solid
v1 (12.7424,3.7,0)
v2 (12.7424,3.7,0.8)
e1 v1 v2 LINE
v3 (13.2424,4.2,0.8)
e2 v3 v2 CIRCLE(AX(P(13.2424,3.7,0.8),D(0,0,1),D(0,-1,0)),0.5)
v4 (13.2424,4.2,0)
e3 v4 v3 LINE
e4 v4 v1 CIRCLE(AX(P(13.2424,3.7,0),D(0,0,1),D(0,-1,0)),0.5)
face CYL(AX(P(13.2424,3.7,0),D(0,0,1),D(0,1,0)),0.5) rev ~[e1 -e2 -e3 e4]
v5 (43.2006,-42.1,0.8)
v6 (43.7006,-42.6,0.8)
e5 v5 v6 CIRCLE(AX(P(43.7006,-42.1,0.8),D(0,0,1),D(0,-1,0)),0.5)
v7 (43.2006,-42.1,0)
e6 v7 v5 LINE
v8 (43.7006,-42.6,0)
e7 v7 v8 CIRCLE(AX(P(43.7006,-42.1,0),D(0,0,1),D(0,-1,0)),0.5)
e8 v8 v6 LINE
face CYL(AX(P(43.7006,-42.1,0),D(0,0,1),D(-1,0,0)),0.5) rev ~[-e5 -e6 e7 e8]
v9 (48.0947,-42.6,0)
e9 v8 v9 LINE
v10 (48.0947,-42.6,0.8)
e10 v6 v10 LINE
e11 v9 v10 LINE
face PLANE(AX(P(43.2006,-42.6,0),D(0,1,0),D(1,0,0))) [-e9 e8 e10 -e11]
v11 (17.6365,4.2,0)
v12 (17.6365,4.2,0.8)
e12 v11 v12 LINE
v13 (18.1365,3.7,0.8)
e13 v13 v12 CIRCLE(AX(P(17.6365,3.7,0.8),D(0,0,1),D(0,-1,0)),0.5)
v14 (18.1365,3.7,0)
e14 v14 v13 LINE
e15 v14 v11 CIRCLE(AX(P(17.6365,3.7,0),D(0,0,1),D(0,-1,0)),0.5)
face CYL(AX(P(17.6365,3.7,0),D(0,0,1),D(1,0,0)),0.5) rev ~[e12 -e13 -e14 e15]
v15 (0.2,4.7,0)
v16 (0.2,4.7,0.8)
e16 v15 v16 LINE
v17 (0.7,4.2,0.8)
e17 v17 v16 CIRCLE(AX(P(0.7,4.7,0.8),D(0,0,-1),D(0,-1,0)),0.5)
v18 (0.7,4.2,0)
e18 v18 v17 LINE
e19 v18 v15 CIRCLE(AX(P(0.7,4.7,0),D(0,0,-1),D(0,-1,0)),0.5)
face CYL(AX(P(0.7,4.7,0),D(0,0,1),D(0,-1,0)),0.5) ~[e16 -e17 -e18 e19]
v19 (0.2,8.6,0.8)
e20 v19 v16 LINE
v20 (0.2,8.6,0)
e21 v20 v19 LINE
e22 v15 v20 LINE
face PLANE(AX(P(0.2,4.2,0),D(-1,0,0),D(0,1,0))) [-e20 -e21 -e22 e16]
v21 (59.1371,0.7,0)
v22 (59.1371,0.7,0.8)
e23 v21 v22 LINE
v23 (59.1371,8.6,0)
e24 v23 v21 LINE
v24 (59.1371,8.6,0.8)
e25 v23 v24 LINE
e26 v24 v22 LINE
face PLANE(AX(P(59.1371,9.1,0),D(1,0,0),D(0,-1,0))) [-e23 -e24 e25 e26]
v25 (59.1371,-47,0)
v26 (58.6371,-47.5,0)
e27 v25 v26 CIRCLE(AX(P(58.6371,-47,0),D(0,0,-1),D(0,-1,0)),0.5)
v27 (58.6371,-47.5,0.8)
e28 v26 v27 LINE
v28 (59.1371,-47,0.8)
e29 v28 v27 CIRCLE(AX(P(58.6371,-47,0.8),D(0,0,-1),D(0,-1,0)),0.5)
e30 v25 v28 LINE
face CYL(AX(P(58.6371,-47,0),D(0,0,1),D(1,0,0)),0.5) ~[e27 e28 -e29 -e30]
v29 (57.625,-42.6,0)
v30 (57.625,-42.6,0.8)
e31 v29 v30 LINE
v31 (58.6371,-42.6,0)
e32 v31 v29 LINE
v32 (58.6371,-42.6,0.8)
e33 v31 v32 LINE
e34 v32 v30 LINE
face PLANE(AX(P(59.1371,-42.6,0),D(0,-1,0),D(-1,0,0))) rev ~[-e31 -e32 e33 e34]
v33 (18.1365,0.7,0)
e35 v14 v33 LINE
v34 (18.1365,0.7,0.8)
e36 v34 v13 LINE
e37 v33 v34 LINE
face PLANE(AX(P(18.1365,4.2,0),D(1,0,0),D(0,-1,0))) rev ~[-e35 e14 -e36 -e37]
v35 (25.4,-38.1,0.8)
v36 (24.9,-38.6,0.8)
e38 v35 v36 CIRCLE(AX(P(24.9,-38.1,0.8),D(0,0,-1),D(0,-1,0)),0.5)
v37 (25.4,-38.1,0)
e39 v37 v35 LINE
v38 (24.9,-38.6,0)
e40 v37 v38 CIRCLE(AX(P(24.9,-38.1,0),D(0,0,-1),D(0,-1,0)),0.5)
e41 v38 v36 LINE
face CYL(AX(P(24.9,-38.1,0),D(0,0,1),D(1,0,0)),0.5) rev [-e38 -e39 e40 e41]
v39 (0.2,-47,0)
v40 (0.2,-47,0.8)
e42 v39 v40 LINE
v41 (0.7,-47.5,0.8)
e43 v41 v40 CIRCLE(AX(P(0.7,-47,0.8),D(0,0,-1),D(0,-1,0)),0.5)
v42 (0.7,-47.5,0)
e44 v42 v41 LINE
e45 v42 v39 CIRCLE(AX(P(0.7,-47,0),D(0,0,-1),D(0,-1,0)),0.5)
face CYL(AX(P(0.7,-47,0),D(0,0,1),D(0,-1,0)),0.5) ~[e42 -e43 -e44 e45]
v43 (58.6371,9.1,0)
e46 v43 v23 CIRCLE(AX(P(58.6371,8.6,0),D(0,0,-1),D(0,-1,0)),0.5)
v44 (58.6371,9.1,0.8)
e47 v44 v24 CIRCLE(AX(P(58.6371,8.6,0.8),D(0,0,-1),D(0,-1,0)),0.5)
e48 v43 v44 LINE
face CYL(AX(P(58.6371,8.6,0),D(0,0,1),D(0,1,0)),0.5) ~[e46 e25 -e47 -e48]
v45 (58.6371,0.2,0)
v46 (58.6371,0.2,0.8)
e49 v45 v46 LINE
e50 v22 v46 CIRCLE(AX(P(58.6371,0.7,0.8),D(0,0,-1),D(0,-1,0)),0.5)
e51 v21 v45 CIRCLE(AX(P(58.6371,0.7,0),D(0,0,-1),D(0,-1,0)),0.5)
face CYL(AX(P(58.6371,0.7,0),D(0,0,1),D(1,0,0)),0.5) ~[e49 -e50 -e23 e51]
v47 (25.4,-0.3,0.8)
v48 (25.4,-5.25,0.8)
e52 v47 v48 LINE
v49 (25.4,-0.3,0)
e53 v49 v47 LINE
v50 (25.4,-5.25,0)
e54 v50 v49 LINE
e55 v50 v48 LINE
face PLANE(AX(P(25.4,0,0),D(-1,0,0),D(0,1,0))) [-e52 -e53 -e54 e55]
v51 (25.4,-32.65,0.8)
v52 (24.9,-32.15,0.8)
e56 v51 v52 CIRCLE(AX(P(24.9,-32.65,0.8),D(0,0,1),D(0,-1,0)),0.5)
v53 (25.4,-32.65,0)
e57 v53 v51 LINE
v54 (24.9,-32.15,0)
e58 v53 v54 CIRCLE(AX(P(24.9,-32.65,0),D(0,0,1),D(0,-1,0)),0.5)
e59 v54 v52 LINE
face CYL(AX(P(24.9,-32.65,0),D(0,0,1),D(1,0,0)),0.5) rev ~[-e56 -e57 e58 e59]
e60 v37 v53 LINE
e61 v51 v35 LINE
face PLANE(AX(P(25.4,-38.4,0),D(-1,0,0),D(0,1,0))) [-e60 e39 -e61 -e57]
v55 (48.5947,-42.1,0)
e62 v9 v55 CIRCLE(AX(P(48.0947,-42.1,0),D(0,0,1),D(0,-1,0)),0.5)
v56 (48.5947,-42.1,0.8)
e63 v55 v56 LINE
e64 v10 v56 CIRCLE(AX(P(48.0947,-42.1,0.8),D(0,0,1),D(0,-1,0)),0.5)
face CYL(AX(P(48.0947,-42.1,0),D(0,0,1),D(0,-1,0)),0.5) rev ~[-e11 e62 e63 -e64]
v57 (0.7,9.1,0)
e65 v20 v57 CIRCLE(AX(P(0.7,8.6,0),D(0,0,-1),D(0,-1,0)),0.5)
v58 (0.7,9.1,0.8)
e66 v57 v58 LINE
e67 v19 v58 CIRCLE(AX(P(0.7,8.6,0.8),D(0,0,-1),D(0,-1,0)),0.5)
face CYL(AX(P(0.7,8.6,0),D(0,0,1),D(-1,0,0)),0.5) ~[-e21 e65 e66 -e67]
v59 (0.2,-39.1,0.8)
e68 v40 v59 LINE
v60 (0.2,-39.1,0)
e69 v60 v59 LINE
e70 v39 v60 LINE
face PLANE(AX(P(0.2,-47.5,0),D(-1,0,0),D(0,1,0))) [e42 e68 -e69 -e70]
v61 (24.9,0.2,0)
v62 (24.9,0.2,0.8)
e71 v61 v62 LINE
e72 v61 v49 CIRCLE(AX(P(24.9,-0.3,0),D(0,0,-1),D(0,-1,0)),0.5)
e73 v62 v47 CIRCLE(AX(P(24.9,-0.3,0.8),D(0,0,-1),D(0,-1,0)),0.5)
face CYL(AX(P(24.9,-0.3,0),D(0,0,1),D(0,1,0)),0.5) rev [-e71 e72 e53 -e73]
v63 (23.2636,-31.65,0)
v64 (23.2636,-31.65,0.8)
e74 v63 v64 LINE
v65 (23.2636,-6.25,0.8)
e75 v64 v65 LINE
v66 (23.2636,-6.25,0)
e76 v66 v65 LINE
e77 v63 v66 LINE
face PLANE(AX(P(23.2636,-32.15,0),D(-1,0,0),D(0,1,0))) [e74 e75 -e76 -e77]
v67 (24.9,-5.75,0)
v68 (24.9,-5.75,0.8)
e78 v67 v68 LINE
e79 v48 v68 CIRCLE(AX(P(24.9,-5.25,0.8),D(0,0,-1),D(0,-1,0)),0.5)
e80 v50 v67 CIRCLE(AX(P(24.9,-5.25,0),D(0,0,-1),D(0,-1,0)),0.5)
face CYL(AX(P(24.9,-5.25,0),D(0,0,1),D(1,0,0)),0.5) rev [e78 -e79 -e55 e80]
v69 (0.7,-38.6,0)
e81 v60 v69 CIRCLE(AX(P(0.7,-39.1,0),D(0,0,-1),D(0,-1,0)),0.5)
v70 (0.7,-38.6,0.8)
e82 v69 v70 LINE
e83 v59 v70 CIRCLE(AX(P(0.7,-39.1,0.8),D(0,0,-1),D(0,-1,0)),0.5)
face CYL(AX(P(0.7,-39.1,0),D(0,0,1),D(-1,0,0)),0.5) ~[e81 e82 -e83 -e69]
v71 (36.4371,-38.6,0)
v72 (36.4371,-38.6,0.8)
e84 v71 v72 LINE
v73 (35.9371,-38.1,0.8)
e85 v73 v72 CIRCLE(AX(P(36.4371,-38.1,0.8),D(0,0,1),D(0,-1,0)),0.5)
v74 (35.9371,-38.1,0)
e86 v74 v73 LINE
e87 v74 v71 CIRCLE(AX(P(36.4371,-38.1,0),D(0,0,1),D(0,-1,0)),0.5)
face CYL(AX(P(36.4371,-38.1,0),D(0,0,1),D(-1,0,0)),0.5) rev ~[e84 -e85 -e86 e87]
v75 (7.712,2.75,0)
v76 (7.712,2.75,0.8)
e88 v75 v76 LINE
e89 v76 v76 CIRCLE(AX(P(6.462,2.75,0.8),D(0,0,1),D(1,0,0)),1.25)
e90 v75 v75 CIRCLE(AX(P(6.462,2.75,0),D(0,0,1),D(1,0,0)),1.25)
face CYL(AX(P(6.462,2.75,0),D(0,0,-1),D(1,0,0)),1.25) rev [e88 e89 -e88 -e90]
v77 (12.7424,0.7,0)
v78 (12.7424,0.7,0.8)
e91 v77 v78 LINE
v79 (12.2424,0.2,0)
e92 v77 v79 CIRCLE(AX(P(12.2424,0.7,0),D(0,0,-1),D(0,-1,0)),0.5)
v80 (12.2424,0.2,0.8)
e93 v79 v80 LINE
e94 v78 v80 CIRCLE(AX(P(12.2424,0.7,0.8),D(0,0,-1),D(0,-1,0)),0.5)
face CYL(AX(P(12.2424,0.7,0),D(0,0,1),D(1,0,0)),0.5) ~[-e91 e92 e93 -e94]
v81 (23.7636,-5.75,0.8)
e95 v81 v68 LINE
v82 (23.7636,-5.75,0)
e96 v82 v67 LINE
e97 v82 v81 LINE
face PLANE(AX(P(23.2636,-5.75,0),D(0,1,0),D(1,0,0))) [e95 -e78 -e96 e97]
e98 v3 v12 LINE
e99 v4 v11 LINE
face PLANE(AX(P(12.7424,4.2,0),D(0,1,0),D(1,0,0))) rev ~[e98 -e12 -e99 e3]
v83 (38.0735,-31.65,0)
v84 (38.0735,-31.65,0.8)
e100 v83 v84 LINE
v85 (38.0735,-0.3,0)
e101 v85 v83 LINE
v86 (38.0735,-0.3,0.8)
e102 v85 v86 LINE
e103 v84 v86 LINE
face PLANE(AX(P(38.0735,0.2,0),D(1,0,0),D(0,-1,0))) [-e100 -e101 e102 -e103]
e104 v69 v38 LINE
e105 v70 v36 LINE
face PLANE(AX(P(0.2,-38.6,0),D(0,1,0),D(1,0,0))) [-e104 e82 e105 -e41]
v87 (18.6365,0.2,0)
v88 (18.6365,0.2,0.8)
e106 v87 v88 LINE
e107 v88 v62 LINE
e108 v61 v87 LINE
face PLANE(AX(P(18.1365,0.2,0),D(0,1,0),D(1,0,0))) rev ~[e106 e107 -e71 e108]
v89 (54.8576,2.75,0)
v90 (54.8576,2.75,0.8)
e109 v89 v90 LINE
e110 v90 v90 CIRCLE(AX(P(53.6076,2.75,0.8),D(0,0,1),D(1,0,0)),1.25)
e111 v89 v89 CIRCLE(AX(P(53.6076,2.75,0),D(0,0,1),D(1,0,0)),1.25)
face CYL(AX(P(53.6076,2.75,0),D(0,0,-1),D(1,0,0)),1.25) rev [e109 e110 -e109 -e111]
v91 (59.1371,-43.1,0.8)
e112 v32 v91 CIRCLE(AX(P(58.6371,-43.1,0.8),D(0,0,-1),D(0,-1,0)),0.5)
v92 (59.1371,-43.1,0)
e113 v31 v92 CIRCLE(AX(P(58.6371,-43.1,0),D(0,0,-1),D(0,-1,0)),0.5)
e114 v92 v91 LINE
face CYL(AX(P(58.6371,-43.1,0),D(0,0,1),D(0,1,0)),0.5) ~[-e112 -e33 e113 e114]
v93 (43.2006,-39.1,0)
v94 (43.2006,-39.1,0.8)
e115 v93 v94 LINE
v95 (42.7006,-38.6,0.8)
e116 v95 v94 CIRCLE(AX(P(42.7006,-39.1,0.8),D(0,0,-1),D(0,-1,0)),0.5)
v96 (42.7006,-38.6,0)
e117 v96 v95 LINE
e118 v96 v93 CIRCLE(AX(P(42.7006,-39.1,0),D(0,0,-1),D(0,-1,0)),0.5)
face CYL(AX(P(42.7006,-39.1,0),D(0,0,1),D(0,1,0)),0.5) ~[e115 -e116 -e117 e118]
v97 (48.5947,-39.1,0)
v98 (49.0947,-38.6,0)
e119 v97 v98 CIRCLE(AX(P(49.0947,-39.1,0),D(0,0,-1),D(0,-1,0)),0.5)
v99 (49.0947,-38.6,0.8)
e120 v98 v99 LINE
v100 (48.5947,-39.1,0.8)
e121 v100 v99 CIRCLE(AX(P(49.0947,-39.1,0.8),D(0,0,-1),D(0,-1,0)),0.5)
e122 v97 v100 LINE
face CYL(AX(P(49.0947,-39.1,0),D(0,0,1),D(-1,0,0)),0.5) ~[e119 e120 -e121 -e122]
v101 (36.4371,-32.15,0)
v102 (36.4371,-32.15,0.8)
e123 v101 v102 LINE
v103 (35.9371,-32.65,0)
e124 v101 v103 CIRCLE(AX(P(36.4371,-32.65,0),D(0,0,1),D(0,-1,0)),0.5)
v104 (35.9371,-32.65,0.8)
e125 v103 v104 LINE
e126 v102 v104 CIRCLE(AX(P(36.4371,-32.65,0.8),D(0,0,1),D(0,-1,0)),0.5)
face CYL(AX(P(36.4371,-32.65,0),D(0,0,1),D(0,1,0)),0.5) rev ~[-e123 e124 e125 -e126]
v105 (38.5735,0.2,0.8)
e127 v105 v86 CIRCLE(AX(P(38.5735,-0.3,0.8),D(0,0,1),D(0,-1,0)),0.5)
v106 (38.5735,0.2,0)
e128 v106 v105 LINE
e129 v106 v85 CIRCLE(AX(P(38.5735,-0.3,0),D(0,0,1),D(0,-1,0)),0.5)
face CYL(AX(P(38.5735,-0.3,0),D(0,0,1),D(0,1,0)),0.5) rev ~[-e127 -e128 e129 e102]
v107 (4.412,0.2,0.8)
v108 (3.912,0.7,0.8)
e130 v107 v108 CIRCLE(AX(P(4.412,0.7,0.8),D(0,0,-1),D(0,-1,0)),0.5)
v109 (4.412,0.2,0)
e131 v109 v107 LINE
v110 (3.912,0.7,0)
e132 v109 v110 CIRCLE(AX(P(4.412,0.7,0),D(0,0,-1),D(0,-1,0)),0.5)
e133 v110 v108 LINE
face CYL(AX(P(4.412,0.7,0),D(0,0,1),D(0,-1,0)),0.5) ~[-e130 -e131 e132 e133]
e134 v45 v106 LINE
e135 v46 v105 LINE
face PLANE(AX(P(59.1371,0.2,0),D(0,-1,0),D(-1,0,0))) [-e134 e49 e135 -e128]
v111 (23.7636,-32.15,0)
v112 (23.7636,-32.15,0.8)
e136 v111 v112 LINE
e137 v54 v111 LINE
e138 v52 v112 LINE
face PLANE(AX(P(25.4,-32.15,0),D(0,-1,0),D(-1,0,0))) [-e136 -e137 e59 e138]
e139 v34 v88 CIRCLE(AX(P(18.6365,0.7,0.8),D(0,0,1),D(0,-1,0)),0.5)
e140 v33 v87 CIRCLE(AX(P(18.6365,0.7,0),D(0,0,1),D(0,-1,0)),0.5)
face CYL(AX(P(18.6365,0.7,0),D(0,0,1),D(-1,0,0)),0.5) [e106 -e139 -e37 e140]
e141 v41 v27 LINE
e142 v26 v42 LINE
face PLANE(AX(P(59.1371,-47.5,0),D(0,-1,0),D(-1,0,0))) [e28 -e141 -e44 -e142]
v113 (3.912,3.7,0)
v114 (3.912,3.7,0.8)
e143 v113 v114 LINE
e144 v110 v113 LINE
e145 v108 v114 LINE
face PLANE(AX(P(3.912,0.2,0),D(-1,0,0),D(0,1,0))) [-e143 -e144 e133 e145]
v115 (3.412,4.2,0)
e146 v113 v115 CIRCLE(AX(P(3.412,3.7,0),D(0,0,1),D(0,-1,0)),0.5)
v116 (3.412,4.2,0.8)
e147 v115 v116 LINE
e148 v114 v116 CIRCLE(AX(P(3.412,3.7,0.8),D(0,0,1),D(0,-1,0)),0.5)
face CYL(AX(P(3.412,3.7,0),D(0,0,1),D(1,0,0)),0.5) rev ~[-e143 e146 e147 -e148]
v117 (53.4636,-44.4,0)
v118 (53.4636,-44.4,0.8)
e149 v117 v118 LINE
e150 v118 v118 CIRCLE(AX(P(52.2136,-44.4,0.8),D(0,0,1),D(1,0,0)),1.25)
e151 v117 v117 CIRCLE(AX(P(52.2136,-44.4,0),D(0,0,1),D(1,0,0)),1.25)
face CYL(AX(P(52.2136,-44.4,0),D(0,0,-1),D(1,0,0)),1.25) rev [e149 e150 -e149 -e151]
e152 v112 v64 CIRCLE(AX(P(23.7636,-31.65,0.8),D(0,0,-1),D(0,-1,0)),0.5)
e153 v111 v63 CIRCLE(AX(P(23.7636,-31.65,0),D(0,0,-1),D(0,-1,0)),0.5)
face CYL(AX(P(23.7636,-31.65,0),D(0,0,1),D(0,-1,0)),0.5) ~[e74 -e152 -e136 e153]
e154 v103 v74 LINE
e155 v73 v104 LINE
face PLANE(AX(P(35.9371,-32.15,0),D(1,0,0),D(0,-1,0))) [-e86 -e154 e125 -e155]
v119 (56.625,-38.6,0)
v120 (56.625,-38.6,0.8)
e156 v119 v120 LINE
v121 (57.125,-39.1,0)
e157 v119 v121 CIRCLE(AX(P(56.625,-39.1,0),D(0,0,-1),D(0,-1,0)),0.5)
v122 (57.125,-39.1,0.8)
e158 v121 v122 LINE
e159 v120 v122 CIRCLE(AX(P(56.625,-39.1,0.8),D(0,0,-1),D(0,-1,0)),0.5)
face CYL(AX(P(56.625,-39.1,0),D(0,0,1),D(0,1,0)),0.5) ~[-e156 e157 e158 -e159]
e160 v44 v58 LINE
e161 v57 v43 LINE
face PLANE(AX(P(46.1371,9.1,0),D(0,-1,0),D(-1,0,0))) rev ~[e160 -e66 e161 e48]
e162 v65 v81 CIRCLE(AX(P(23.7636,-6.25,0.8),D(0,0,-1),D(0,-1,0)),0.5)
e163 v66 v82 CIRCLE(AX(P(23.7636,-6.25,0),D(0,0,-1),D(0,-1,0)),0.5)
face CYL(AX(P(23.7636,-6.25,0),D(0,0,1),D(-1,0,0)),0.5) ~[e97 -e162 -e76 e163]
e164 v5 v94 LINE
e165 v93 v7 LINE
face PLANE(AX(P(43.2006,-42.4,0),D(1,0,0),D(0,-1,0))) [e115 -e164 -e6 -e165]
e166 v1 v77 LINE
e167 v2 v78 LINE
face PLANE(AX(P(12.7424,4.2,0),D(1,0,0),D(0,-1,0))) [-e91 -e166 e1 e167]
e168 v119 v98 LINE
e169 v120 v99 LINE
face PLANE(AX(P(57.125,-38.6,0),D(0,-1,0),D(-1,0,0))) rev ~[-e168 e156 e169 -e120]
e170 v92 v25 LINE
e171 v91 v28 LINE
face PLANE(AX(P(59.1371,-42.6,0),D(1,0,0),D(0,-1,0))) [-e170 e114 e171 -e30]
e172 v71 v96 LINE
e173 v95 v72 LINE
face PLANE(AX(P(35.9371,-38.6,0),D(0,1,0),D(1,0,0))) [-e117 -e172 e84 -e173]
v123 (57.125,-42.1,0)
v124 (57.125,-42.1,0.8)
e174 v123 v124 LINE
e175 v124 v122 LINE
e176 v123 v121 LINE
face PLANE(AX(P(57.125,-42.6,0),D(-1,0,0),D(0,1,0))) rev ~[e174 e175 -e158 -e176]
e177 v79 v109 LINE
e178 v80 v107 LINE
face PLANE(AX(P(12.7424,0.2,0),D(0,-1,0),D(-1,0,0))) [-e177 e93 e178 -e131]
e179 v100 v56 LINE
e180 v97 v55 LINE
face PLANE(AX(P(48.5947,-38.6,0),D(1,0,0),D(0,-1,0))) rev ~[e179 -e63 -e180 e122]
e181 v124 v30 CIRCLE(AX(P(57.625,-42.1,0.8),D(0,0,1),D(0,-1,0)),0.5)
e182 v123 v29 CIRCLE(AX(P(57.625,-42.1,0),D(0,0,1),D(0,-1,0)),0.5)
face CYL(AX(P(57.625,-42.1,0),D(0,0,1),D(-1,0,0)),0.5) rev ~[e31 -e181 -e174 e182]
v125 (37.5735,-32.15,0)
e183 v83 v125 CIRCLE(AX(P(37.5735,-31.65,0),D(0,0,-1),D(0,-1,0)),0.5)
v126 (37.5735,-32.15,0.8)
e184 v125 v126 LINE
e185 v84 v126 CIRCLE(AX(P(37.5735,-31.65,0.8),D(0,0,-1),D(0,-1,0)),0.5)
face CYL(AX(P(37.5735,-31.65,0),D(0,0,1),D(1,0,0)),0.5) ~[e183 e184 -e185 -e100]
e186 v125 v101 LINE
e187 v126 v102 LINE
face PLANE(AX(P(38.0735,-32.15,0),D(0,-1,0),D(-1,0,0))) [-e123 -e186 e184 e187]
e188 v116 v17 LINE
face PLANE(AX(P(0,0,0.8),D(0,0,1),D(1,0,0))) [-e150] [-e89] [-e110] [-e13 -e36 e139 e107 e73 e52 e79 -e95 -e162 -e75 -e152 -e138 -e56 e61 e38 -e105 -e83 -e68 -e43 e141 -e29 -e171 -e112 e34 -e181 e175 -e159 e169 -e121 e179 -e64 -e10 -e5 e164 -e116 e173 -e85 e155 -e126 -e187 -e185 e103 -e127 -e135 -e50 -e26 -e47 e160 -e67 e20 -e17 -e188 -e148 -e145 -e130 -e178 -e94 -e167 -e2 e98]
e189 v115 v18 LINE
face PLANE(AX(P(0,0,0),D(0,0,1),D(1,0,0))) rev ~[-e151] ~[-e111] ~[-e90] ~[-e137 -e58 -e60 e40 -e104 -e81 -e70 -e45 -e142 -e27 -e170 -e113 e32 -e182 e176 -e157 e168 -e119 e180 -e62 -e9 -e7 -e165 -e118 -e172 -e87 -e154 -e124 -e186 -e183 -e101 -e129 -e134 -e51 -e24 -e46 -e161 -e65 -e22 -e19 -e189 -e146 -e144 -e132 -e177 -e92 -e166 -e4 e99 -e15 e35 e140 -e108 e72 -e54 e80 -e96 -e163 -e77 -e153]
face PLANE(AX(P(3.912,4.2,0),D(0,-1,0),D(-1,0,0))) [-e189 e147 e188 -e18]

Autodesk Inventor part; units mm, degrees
ref_plane "YZ Plane" through (0, 0, 0) normal (1, 0, 0) x (0, 1, 0)
ref_plane "XZ Plane" through (0, 0, 0) normal (0, 1, 0) x (-1, 0, 0)
ref_plane "XY Plane" through (0, 0, 0) normal (0, 0, 1) x (1, 0, 0)
sketch "Sketch1" plane through (0, 0, 0) normal (0, 0, 1) x (1, 0, 0)
  line L0 (13.7023, 4) -> (22.3525, 4) projected
  line L1 (22.3525, 0) -> (59.3371, 0) projected
  line L2 (59.3371, 0) -> (59.3371, 9.3) projected
  line L3 (59.3371, 9.3) -> (0, 9.3) projected
  line L4 (0, 4) -> (0, 9.3) projected
  line L5 (2.4551, 0) -> (13.7023, 0) projected
  line L6 (0, -38.4) -> (39.318, -38.4) projected
  line L7 (0, -38.4) -> (0, -47.7) projected
  line L8 (0, -47.7) -> (59.3371, -47.7) projected
  line L9 (59.3371, -42.4) -> (59.3371, -47.7) projected
  line L10 (59.3371, -42.4) -> (58.882, -42.4) projected
  line L11 (58.882, -42.4) -> (58.882, -38.4) projected
  line L12 (47.6348, -38.4) -> (58.882, -38.4) projected
  line L13 (47.6348, -42.4) -> (39.318, -42.4) projected
  line L14 (39.0735, -33.15) -> (39.0735, -5.25)
  line L15 (39.0735, -5.25) -> (39.9371, -5.25)
  line L16 (39.9371, -5.25) -> (39.9371, -33.15)
  line L17 (39.9371, -33.15) -> (39.0735, -33.15)
  line L18 (22.2636, -5.25) -> (22.2636, -33.15)
  line L19 (22.2636, -33.15) -> (21.4, -33.15)
  line L20 (21.4, -33.15) -> (21.4, -5.25)
  line L21 (21.4, -5.25) -> (22.2636, -5.25)
  line L22 (21.4, 0) -> (21.4, -38.4)
  line L23 (39.9371, -38.4) -> (39.9371, 0)
  line L24 (39.9371, 0) -> (62.3371, 0)
  line L25 (59.1371, 9.1) -> (59.1371, 0.2)
  line L26 (59.1371, 0.2) -> (38.0735, 0.2)
  line L27 (38.0735, 0.2) -> (38.0735, -6.25)
  line L28 (38.0735, -6.25) -> (38.0735, -6.25)
  line L29 (38.0735, -6.25) -> (38.0735, -32.15)
  line L30 (35.9371, -32.15) -> (35.9371, -38.6)
  line L31 (59.1371, -42.6) -> (59.1371, -47.5)
  line L32 (59.1371, -47.5) -> (46.1371, -47.5)
  line L33 (0.2, -47.5) -> (0.2, -38.6)
  line L34 (0.2, -38.6) -> (25.4, -38.6)
  line L35 (25.4, -38.6) -> (25.4, -32.15)
  line L36 (25.4, -32.15) -> (23.2636, -32.15)
  line L37 (23.2636, -32.15) -> (23.2636, -5.75)
  line L38 (23.2636, -5.75) -> (25.4, -5.75)
  line L39 (25.4, -5.75) -> (25.4, 0.2)
  line L40 (0.2, 4.2) -> (0.2, 8.5299)
  line L41 (38.0735, -32.15) -> (35.9371, -32.15)
  line L42 (12.7424, 4.2) -> (12.7424, 0.2)
  line L43 (12.7424, 0.2) -> (3.912, 0.2)
  line L44 (3.912, 0.2) -> (3.912, 4.2)
  line L45 (3.912, 4.2) -> (0.2, 4.2)
  line L46 (59.1371, -42.6) -> (57.125, -42.6)
  line L47 (57.125, -42.6) -> (57.125, -38.6)
  line L48 (57.125, -38.6) -> (48.5947, -38.6)
  line L49 (48.5947, -38.6) -> (48.5947, -42.6)
  line L50 (39.318, -42.4) -> (39.318, -38.4) projected
  line L51 (47.6348, -38.4) -> (47.6348, -42.4) projected
  line L52 (22.3525, 4) -> (22.3525, 0) projected
  spline S0 degree 2 poles (41.0471, 11.3) (40.5342, 11.2191) (40.0213, 11.3) knots 0 0 0 0.102903 0.102903 0.102903 weights 1 1.01269 1 projected
  line L53 (0, 11.3) -> (40.0213, 11.3) projected
  line L54 (0, 9.3) -> (0, 11.3) projected
  line L55 (0, 9.3) -> (46.3371, 9.3) projected
  line L56 (46.3371, 9.3) -> (46.3371, 11.3) projected
  line L57 (41.0471, 11.3) -> (46.3371, 11.3) projected
  spline S1 degree 2 poles (20.1962, -49.7) (20.5821, -49.6542) (20.9681, -49.7) knots 0 0 0 0.077319 0.077319 0.077319 weights 1 1.007125 1 projected
  line L58 (46.3371, -49.7) -> (20.9681, -49.7) projected
  line L59 (46.3371, -47.7) -> (46.3371, -49.7) projected
  line L60 (0, -47.7) -> (46.3371, -47.7) projected
  line L61 (0, -47.7) -> (0, -49.7) projected
  line L62 (20.1962, -49.7) -> (0, -49.7) projected
  line L63 (46.1371, -47.5) -> (0.2, -47.5)
  line L64 (46.1371, -47.5) -> (46.1371, -47.5)
  line L65 (46.1371, 9.1) -> (59.1371, 9.1)
  line L66 (46.1371, 9.1) -> (46.1371, 9.1)
  line L67 (46.1371, 9.1) -> (0.2, 9.1)
  line L68 (0.2, 9.1) -> (0.2, 8.5299)
  line L69 (3.712, 4) -> (3.712, 0)
  line L70 (12.9424, 0) -> (12.9424, 4)
  line L71 (17.9365, 4) -> (17.9365, 0)
  line L72 (12.7424, 4.2) -> (18.1365, 4.2)
  line L73 (18.1365, 4.2) -> (18.1365, 0.2)
  line L74 (18.1365, 0.2) -> (25.4, 0.2)
  line L75 (43.4006, -42.4) -> (43.4006, -38.4)
  line L76 (48.3947, -38.4) -> (48.3947, -42.4)
  line L77 (57.625, -42.4) -> (57.625, -38.4)
  line L78 (35.9371, -38.6) -> (43.2006, -38.6)
  line L79 (43.2006, -38.6) -> (43.2006, -42.6)
  line L80 (43.2006, -42.6) -> (48.5947, -42.6)
  circle A0 centre (6.462, 2.75) radius 1.0065 construction
  circle A1 centre (6.462, 2.75) radius 1.25
  circle A2 centre (53.6076, 2.75) radius 1.0065 construction
  circle A3 centre (53.6076, 2.75) radius 1.25
  circle A4 centre (52.2136, -44.4) radius 1.0065 construction
  circle A5 centre (52.2136, -44.4) radius 1.25
  point P0 (0, 0)
  point P1 (38.0735, 0)
  point P2 (35.9371, -38.4)
  point P3 (52.2136, -44.4)
  dimension "d1" = 0.2
  dimension "d3" = 0.2
  dimension "d5" = 0.2
  dimension "d7" = 0.2
  dimension "d8" = 0.2
  dimension "d10" = 0.2
  dimension "d11" = 0.2
  dimension "d16" = 1
  dimension "d17" = 1
  dimension "d18" = 4
  dimension "d19" = 0.5
  dimension "d20" = 1
  dimension "d21" = 1
  dimension "d22" = 1
  dimension "d23" = 1.8636
  dimension "d24" = 4
  dimension "d25" = 4
  dimension "d35" = 0.2
  dimension "d40" = 0.2
  dimension "d42" = 0.2
  dimension "d44" = 0.2
  dimension "d47" = 0.2
  dimension "d48" = 0.2
  dimension "d50" = 0
  dimension "d51" = 0.2
  dimension "d52" = 0.2
  dimension "d53" = 0.2
  dimension "d54" = 0.2
  dimension "d55" = 0.2
  dimension "d56" = 0.2
  dimension "d57" = 0.2
  dimension "d59" = 0.2
  dimension "d60" = 0.2
  dimension "d61" = 0.2
  dimension "d62" = 0.5
  dimension "d63" = 0.2
  dimension "d64" = 0.2
  dimension "d65" = 2.5
  dimension "d66" = 2.5
  dimension "d67" = 2.5
extrude "Extrusion1" add sketch "Sketch1" along normal blind 0.8 contours L73 L72 L42 L43 L44 L45 L40 L68 L67 L65 L25 L26 L27 L1 L39 L74 L52 L0 | L0 L52 L74 L73 | L1 L27 L29 L41 L30 L6 L35 L36 L37 L38 L39 | L30 L78 L50 L13 L79 L80 L49 L48 L47 L46 L31 L32 L63 L33 L34 L35 L6 | L78 L79 L13 L50
fillet "Fillet1" radius 0.5 30 edges at (59.1371, -47.5, 0.4) (59.1371, -42.6, 0.4) (0.2, -38.6, 0.4) (25.4, -38.6, 0.4) (25.4, -32.15, 0.4) (23.2636, -32.15, 0.4) (23.2636, -5.75, 0.4) (25.4, -5.75, 0.4) (25.4, 0.2, 0.4) (0.2, 4.2, 0.4) (59.1371, 9.1, 0.4) (59.1371, 0.2, 0.4) (38.0735, 0.2, 0.4) (38.0735, -32.15, 0.4) (35.9371, -32.15, 0.4) (35.9371, -38.6, 0.4) (3.912, 4.2, 0.4) (3.912, 0.2, 0.4) (12.7424, 4.2, 0.4) (12.7424, 0.2, 0.4) (48.5947, -42.6, 0.4) (48.5947, -38.6, 0.4) (57.125, -38.6, 0.4) (57.125, -42.6, 0.4) (0.2, -47.5, 0.4) (0.2, 9.1, 0.4) (43.2006, -38.6, 0.4) (18.1365, 4.2, 0.4) (18.1365, 0.2, 0.4) (43.2006, -42.6, 0.4)
equation "\"d5\" = d1"
equation "\"d7\" = d1"
equation "\"d8\" = d1"
equation "\"d10\" = d1"
equation "\"d40\" = d1"
properties part number "PCB_InterfaceBoard"
